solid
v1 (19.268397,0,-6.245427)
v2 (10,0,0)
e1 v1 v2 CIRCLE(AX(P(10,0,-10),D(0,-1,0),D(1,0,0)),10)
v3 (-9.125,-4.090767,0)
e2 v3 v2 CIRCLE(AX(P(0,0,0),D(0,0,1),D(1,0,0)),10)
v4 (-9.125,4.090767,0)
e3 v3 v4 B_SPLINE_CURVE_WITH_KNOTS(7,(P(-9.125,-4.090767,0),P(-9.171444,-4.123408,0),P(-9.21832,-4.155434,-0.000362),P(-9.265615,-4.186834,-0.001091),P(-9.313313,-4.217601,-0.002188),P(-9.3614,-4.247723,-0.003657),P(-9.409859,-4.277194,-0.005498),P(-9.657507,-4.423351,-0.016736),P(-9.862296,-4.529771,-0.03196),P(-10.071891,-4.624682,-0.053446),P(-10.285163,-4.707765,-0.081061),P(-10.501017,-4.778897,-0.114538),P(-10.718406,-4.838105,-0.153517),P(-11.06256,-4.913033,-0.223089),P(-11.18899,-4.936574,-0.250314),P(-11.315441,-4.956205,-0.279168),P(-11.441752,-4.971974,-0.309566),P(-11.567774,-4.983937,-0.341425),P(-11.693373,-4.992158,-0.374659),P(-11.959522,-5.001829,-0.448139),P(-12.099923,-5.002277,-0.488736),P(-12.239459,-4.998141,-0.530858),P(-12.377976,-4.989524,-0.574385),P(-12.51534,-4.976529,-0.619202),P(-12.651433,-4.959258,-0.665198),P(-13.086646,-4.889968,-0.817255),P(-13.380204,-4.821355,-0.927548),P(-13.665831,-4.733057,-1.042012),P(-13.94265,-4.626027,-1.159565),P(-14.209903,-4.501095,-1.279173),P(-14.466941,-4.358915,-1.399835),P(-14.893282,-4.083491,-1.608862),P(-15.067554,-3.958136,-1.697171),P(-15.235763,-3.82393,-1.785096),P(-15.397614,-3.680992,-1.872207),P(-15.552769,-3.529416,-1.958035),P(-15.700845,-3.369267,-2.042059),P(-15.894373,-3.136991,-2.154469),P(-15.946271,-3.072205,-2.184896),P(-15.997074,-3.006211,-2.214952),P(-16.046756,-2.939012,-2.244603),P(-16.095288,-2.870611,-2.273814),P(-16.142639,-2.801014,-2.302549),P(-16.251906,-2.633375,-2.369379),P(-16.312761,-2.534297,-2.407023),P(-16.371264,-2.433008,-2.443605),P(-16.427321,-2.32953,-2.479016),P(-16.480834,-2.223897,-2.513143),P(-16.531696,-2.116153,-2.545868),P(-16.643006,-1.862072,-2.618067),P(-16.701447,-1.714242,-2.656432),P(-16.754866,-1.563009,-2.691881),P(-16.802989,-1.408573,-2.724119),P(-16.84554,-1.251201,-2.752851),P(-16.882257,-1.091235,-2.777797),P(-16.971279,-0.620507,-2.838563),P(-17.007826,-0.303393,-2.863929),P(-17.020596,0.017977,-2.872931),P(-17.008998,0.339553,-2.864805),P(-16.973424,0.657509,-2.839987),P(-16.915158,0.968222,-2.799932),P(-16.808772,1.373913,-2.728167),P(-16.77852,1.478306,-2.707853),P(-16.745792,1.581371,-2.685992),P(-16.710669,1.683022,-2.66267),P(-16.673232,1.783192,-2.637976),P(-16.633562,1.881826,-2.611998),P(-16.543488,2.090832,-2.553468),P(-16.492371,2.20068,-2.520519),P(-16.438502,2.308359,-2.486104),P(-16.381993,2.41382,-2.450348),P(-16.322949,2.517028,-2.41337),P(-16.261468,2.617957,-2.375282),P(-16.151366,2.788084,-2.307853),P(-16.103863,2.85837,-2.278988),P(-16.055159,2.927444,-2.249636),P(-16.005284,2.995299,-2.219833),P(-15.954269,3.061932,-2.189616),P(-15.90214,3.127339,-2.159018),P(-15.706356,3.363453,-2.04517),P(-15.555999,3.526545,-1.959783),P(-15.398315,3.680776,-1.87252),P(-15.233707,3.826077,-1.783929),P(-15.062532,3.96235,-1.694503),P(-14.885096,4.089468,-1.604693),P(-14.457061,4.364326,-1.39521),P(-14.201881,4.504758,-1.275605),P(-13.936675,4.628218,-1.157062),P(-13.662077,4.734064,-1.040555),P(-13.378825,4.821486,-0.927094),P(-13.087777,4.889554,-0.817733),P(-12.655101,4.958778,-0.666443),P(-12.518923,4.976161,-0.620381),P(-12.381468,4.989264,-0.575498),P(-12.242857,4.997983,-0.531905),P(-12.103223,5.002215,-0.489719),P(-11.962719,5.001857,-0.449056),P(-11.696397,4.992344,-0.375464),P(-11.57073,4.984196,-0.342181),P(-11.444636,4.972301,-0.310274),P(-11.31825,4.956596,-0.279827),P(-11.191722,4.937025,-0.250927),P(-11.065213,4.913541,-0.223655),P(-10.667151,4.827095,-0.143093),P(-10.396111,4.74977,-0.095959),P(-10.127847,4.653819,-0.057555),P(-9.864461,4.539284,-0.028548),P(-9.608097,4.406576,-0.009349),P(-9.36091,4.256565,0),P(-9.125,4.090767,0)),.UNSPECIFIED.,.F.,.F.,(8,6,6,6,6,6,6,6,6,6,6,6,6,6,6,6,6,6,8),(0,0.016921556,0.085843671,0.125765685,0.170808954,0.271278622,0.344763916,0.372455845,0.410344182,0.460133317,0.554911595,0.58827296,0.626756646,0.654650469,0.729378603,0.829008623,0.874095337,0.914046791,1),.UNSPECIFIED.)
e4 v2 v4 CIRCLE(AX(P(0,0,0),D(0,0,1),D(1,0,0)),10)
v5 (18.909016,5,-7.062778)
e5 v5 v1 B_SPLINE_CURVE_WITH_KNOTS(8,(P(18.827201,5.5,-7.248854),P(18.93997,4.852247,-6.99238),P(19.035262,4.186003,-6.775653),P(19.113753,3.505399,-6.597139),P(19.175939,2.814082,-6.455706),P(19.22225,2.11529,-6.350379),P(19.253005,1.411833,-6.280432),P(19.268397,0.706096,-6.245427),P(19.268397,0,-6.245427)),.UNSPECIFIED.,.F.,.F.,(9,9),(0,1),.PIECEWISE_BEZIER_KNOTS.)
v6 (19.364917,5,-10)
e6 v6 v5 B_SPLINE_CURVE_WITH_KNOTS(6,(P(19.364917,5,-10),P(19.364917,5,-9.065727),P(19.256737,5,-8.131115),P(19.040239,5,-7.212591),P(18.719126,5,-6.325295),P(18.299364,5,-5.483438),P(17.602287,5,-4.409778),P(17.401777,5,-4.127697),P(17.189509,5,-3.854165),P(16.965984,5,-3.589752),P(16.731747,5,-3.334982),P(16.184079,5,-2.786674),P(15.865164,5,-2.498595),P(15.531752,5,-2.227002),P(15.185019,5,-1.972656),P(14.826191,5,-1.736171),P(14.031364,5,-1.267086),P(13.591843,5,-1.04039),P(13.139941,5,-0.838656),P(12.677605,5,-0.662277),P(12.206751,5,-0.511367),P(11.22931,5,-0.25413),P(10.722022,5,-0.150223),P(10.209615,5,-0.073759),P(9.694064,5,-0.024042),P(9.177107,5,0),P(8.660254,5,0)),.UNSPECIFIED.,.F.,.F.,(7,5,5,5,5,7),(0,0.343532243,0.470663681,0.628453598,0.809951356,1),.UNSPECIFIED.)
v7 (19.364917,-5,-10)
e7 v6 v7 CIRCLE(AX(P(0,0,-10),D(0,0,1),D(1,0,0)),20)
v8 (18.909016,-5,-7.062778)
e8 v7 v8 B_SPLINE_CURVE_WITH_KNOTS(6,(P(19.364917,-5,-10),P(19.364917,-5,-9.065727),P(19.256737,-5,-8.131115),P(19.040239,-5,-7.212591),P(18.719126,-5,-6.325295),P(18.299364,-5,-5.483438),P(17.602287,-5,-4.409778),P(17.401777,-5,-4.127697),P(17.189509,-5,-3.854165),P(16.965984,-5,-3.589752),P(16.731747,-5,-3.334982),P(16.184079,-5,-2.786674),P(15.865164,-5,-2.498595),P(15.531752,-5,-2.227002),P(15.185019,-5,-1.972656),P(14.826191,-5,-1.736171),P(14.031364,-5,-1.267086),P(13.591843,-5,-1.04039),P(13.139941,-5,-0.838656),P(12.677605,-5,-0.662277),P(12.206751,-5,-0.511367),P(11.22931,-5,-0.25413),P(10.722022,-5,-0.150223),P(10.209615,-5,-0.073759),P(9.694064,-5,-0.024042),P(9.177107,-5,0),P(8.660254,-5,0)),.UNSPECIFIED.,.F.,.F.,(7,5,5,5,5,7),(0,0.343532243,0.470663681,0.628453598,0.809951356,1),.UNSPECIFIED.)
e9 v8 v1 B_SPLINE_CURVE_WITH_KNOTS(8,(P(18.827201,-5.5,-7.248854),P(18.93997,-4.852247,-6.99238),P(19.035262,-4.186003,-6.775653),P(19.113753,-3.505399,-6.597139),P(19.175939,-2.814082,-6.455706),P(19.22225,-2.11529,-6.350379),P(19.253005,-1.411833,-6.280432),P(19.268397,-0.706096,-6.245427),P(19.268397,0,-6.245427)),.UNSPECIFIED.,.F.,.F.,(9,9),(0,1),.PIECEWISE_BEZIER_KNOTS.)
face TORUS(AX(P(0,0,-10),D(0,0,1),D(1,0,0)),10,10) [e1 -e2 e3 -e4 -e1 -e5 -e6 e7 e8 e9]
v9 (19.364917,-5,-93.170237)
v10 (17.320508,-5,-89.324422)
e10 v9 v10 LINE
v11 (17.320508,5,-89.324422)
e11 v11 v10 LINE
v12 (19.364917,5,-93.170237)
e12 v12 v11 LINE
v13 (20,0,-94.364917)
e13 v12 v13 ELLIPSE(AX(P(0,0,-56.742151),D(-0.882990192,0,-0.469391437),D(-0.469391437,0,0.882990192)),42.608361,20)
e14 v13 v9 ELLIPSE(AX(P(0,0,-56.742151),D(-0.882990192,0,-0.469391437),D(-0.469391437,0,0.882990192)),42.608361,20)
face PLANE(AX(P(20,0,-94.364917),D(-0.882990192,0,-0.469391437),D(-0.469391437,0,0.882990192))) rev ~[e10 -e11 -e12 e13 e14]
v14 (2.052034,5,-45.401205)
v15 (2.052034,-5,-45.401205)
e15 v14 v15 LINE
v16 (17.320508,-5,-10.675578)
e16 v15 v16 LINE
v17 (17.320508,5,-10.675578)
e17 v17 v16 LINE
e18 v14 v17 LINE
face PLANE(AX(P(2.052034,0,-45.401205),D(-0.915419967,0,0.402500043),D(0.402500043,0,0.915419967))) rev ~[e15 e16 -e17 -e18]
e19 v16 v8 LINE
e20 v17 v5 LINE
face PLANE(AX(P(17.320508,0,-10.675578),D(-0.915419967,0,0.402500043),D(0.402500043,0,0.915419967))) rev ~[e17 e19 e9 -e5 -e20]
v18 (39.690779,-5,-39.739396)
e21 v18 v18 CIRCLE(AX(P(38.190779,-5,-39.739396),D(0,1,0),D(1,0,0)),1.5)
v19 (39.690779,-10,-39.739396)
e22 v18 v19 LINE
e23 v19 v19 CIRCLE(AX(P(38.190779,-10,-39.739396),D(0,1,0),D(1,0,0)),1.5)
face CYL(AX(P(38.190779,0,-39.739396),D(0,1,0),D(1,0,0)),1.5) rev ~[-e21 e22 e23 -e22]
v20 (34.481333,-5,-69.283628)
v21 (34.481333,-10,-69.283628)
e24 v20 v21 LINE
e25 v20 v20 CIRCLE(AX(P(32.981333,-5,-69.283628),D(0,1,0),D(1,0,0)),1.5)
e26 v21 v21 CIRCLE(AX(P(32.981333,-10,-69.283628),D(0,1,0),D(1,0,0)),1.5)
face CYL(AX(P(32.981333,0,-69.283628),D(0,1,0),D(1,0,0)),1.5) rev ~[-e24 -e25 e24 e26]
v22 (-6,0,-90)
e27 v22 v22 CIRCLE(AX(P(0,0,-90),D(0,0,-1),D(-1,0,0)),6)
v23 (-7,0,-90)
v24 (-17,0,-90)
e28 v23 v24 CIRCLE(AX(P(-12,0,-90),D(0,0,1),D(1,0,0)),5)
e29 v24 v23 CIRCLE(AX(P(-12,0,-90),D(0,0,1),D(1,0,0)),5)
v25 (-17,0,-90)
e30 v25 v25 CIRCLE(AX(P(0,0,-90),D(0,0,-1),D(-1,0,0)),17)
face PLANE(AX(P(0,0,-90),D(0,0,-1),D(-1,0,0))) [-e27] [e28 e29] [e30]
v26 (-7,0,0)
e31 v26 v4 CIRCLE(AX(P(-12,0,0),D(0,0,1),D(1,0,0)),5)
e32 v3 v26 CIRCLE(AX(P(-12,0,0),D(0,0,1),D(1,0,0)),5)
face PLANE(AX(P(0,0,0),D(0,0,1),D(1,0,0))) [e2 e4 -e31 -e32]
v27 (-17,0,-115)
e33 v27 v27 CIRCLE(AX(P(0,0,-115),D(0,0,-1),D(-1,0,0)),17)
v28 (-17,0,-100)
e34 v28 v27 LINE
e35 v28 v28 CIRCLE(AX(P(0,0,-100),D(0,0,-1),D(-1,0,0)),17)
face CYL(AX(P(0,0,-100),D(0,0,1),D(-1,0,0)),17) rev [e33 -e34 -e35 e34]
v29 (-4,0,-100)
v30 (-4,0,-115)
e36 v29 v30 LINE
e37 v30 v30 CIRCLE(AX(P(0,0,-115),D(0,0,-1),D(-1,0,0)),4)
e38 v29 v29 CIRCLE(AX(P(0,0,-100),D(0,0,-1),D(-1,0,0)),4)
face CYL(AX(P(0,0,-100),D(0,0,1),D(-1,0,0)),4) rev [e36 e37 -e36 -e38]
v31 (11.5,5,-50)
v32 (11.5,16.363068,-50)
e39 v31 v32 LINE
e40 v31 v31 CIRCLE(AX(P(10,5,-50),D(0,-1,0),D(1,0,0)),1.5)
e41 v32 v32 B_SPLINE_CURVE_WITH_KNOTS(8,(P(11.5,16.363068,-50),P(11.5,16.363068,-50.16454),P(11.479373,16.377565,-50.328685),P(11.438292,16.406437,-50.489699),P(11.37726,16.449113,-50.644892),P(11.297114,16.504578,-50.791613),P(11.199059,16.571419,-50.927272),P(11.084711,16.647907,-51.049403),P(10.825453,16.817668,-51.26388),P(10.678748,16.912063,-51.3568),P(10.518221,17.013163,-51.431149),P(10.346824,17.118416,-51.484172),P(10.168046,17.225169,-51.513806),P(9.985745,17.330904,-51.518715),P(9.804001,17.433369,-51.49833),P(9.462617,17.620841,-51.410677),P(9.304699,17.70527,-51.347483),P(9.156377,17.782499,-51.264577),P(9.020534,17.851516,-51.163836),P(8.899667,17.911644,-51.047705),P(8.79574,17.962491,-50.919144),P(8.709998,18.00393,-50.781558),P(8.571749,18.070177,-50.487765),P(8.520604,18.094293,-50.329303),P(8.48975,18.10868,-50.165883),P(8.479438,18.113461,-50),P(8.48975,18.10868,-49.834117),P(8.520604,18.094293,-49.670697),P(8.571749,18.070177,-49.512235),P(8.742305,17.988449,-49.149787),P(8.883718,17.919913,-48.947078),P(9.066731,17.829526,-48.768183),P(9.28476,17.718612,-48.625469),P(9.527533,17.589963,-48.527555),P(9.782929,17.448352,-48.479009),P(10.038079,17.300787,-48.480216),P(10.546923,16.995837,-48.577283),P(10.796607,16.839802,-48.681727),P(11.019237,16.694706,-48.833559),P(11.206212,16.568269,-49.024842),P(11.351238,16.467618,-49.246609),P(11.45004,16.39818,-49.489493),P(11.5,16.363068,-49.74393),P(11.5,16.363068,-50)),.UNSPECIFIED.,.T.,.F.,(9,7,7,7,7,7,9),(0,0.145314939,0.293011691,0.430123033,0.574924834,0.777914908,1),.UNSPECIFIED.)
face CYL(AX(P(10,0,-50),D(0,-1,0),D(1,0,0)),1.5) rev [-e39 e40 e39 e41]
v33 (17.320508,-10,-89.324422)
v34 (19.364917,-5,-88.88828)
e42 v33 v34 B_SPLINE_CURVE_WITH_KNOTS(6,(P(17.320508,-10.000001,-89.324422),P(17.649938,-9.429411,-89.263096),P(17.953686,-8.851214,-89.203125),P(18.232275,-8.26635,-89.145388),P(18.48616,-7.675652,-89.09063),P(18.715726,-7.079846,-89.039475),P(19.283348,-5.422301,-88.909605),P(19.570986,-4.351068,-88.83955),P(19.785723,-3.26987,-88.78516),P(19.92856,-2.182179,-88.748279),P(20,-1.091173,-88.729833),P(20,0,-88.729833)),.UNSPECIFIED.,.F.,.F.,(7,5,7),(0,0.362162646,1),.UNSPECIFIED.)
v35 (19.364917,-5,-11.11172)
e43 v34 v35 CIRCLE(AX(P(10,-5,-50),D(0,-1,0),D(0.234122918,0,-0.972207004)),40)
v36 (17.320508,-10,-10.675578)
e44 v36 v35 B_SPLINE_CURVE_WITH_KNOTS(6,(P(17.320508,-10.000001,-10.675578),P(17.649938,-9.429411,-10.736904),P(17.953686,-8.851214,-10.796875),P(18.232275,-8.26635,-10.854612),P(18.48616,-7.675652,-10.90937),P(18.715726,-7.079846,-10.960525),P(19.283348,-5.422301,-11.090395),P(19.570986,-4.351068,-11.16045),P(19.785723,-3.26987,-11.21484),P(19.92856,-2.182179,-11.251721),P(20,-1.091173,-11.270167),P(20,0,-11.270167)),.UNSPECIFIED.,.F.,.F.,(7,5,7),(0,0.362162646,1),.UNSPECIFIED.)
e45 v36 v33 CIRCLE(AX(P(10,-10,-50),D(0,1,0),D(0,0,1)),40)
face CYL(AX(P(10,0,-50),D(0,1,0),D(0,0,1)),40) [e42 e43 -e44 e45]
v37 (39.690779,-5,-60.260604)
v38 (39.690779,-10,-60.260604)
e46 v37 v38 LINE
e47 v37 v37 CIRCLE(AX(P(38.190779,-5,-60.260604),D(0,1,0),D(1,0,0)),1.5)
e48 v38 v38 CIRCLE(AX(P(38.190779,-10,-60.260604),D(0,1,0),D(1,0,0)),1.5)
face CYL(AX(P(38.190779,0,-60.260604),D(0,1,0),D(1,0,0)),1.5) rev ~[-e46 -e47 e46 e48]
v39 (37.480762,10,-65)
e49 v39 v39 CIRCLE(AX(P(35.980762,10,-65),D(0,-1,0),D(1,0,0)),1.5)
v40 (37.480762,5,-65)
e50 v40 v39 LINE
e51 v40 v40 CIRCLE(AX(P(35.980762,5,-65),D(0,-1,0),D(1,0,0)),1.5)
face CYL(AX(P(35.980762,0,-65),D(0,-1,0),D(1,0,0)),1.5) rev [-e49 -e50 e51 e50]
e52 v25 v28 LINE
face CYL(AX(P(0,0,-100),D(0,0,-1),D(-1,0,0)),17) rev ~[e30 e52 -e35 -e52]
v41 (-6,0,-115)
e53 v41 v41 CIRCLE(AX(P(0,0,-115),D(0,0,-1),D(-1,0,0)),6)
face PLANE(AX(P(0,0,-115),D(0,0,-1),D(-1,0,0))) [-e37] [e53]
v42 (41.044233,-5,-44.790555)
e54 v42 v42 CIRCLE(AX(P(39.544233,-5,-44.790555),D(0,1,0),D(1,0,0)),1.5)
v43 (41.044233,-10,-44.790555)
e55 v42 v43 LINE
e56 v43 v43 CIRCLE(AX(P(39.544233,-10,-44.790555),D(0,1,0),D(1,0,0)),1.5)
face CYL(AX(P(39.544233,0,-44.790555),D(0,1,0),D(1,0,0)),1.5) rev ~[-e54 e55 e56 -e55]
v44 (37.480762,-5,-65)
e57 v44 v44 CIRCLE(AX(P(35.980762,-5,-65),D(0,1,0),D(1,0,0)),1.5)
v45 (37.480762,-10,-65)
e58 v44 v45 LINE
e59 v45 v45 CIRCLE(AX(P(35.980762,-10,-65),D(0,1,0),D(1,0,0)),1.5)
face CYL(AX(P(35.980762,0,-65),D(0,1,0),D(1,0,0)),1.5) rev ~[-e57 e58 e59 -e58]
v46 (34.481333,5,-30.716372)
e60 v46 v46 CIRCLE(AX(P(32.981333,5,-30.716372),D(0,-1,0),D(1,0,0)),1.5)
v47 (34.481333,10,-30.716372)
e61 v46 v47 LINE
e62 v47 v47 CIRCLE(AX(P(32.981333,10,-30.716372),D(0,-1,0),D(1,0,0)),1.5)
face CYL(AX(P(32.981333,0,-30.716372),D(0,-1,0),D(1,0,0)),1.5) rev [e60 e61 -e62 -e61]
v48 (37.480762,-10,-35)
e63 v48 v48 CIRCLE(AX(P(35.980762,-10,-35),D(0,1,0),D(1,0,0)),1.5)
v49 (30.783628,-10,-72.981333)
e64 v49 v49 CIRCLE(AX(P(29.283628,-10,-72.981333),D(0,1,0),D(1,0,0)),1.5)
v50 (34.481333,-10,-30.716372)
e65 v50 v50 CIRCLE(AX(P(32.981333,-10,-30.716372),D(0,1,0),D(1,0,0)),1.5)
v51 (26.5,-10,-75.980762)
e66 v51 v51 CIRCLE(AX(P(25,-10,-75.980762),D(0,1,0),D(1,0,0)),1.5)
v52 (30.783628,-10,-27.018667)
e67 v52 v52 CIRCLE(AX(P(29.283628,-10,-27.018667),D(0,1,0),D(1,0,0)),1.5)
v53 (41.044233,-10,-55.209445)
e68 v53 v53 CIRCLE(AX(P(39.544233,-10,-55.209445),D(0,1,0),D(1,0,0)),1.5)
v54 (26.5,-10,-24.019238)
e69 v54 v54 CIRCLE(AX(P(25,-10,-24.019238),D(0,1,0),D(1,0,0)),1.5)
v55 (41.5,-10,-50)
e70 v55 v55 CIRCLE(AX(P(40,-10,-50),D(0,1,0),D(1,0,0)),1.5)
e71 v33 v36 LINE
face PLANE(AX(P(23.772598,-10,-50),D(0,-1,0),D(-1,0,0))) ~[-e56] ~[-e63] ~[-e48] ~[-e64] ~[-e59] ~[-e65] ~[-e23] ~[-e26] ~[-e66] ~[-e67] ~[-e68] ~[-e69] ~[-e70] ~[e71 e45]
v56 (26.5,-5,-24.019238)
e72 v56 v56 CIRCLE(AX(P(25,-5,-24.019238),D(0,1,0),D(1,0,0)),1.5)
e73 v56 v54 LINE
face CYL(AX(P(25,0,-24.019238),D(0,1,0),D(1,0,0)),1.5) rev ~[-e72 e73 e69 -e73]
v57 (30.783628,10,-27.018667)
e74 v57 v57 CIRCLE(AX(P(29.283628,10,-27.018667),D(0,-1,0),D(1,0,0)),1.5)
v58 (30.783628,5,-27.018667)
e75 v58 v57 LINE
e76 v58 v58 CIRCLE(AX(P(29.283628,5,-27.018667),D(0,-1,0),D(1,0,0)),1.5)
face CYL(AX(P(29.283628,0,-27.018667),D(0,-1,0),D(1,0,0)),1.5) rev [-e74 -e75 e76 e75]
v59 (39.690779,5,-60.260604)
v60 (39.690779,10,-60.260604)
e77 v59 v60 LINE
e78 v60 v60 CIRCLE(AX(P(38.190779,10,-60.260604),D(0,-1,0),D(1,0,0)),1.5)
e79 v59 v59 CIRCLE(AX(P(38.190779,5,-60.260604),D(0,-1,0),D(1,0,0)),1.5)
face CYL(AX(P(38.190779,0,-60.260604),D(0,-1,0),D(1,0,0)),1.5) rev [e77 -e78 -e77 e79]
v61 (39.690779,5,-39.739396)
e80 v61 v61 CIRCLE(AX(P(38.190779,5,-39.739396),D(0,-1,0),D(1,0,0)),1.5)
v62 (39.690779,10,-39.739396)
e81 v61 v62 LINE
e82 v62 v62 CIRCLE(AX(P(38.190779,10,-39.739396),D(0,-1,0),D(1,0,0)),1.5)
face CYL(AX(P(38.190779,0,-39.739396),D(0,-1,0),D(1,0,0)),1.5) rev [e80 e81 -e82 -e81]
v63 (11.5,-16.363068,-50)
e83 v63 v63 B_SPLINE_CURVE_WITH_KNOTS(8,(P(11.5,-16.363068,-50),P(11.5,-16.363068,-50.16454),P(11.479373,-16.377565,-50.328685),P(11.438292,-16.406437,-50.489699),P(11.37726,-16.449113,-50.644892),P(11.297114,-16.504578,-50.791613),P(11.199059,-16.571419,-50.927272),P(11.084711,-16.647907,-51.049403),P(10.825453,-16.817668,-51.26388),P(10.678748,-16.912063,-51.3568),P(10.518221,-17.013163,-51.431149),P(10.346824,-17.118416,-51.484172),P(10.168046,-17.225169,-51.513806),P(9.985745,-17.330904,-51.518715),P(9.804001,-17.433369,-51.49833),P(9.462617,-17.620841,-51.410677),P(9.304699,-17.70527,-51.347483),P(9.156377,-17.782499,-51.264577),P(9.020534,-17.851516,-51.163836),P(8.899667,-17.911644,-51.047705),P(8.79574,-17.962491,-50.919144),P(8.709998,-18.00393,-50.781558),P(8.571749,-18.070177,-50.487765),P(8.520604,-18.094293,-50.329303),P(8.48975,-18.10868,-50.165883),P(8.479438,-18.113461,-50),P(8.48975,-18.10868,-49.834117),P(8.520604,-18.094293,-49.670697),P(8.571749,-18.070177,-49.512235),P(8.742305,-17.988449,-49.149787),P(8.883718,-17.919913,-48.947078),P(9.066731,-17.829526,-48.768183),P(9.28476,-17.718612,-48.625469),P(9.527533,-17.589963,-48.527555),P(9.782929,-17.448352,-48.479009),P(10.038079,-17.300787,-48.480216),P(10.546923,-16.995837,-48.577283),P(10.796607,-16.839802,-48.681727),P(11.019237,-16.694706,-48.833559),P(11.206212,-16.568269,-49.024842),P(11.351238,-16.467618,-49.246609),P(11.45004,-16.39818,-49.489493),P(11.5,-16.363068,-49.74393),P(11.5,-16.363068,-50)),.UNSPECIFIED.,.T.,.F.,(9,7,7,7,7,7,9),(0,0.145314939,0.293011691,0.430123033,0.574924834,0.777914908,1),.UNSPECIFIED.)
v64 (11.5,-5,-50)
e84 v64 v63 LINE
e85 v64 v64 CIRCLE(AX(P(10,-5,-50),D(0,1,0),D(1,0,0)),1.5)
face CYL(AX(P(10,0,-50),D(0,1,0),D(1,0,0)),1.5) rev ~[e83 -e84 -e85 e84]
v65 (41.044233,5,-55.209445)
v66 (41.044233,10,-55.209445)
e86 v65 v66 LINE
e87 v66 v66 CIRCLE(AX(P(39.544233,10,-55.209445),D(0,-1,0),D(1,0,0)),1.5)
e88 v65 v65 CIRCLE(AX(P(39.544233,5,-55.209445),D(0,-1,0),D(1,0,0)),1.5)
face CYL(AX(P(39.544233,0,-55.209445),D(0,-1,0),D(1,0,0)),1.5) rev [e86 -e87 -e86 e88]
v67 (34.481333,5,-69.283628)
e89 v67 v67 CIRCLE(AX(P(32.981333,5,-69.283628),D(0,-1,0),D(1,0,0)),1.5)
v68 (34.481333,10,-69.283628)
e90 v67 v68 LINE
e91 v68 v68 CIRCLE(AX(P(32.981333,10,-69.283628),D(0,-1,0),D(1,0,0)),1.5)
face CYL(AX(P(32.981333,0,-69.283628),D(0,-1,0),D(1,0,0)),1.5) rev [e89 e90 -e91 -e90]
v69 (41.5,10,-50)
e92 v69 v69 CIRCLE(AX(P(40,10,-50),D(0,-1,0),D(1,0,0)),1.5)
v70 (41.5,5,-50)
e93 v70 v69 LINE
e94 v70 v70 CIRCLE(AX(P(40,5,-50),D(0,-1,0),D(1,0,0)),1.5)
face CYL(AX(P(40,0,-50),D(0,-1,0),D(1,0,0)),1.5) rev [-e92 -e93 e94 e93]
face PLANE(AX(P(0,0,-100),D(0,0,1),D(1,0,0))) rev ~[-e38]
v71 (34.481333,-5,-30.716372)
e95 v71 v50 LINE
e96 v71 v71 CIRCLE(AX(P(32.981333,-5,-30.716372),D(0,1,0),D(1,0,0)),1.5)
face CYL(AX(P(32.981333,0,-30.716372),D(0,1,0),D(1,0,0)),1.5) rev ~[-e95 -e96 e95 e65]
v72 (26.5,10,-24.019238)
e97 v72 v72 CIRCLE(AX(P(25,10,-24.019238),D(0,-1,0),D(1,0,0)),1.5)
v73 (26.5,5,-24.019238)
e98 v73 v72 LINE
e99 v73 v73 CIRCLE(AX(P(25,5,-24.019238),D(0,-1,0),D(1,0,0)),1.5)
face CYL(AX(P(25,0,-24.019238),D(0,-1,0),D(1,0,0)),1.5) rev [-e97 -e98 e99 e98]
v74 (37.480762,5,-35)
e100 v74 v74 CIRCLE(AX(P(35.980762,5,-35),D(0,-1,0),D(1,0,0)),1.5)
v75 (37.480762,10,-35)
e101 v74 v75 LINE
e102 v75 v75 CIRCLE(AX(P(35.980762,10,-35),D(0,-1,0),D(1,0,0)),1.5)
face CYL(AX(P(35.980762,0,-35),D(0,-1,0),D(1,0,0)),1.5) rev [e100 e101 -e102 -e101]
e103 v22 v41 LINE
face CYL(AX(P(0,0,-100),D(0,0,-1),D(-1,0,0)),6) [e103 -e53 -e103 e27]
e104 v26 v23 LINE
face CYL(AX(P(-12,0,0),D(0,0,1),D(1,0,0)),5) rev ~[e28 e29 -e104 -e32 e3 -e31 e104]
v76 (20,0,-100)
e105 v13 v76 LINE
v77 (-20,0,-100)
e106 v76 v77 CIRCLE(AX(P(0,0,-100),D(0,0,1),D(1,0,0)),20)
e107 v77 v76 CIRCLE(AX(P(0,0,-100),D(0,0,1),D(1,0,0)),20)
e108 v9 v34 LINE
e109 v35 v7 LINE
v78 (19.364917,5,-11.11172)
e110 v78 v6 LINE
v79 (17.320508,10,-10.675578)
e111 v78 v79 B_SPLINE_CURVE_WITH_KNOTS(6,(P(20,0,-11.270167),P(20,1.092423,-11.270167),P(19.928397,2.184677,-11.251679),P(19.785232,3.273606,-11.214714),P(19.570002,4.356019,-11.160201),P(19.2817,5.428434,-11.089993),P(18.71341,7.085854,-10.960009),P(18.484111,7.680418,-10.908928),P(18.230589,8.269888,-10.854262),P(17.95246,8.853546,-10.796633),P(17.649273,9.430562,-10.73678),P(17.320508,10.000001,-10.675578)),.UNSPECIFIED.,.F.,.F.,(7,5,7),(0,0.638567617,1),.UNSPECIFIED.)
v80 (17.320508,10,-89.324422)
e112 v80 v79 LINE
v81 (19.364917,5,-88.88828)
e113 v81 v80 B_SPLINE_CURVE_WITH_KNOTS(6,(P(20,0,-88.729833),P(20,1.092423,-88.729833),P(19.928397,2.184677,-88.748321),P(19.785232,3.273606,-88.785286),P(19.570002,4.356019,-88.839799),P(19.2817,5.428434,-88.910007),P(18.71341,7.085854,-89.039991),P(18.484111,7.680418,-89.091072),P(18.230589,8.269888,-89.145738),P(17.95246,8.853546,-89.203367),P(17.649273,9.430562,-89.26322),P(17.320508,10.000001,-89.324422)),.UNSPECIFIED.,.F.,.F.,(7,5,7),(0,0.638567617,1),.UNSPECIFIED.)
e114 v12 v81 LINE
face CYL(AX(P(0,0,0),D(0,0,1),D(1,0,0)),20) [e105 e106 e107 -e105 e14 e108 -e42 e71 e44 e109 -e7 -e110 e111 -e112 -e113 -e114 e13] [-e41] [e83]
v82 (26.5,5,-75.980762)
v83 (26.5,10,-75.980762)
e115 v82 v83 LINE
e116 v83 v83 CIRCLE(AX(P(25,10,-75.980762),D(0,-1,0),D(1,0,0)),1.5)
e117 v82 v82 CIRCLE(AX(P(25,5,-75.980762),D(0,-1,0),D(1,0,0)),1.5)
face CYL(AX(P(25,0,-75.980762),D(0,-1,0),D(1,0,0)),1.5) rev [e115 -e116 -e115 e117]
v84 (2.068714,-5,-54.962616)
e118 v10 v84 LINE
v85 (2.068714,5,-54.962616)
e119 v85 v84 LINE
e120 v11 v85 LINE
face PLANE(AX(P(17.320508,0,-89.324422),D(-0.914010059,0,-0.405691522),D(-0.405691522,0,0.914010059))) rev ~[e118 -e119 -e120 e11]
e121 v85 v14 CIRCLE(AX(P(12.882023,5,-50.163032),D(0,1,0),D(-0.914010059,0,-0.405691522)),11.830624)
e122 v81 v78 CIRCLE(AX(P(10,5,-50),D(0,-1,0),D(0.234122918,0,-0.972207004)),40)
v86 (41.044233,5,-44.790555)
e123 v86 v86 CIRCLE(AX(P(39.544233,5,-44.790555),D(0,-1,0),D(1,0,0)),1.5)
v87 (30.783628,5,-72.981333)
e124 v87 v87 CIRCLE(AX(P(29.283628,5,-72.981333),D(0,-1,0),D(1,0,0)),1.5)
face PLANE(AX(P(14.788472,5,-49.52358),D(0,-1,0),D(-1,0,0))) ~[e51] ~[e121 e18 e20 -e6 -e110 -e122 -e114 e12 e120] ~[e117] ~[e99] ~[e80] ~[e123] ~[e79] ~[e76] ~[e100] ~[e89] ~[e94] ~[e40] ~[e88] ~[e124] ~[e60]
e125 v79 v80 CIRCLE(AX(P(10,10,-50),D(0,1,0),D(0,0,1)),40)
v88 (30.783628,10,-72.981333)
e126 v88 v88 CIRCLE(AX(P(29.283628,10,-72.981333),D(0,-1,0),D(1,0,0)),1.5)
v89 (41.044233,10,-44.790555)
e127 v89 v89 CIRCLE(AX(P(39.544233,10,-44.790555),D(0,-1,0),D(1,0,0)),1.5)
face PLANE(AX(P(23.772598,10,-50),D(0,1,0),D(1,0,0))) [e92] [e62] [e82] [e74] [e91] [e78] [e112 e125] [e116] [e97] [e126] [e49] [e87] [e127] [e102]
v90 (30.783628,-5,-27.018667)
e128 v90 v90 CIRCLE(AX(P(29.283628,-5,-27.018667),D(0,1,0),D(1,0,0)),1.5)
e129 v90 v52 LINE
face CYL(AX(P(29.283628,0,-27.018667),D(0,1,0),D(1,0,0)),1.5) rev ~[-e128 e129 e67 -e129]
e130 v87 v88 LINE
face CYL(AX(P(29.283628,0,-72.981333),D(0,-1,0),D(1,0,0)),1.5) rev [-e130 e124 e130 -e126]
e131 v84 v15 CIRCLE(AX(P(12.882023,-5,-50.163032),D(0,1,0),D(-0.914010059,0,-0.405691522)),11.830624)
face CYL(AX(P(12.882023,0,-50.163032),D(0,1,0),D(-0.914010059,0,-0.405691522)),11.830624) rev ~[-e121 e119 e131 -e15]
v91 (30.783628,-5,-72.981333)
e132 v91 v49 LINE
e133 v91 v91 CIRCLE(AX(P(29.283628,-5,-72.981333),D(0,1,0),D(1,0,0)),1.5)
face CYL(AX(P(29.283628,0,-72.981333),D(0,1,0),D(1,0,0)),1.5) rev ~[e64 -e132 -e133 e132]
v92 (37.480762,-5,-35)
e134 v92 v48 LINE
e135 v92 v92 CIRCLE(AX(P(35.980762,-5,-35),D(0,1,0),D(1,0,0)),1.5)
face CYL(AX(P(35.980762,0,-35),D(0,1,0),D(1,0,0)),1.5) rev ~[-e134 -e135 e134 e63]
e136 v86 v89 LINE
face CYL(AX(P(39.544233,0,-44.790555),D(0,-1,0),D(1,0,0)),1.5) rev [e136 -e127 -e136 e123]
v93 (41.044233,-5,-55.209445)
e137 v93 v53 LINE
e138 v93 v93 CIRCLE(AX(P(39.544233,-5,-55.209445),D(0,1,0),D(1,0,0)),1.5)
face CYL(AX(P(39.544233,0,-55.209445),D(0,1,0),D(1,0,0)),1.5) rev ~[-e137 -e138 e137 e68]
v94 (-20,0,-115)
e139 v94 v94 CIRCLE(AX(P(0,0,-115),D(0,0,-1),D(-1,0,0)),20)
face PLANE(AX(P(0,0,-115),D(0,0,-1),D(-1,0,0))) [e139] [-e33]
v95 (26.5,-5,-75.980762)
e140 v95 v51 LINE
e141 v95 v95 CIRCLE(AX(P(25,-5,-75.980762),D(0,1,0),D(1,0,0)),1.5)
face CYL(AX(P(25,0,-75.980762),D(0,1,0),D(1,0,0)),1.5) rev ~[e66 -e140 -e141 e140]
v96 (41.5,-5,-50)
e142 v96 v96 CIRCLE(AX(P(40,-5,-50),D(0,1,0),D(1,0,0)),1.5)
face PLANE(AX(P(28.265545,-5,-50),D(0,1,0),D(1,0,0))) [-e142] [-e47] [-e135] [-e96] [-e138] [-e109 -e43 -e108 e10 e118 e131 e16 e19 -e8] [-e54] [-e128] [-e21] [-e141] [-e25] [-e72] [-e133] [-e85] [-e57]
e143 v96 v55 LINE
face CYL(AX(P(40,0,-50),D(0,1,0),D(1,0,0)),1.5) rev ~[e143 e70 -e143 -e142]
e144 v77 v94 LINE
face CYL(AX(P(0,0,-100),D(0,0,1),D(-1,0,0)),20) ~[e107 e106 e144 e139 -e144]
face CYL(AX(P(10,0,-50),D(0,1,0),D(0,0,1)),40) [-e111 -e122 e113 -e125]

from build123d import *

# Parameters (mm, degrees)
CROQUIS4_R               = 20
SALIENTE_EXTRUIR2_DEPTH  = 100
REDONDEO1_R              = 10
SALIENTE_EXTRUIR6_DEPTH  = 10
CROQUIS6_R               = 6
CROQUIS6_R_2             = 4
SALIENTE_EXTRUIR4_DEPTH  = 15
CROQUIS15_R              = 5
CORTAR_EXTRUIR5_DEPTH    = 91
CORTAR_EXTRUIR2_DEPTH    = 5
CORTAR_EXTRUIR3_DEPTH    = 5
CROQUIS12_R              = 1.5
CORTAR_EXTRUIR4_DEPTH    = 48
CORTAR_EXTRUIR1_START    = -10
CROQUIS6_7_R             = 17
CROQUIS6_7_R_2           = 6
CORTAR_EXTRUIR1_DEPTH    = 10
CROQUIS6_8_R             = 20
CROQUIS6_8_R_2           = 17
SALIENTE_EXTRUIR11_DEPTH = 15


with BuildPart() as part:
    # Croquis4 → Saliente-Extruir2 (new body)
    with BuildSketch(Plane.XY):
        Circle(CROQUIS4_R)
    extrude(amount=-SALIENTE_EXTRUIR2_DEPTH)

    # Redondeo1
    redondeo1_edges = [part.edges().sort_by_distance(p)[0] for p in [
        (-20, 0, 0),
    ]]
    fillet(redondeo1_edges, radius=REDONDEO1_R)

    # Croquis8 → Saliente-Extruir6 (add)
    with BuildSketch(Plane(origin=(0, 0, 0), x_dir=(1, 0, 0), z_dir=(0, 1, 0))):
        with BuildLine():
            Line((10, 48.5), (10, 10))
            ThreePointArc((10, 10), (50, 50), (10, 90))
            Line((10, 90), (10, 51.5))
            ThreePointArc((10, 51.5), (11.5, 50), (10, 48.5))
        make_face()
    saliente_extruir6 = extrude(amount=SALIENTE_EXTRUIR6_DEPTH)

    # Croquis6 → Saliente-Extruir4 (add)
    with BuildSketch(Plane(origin=(0, 0, -100), x_dir=(-1, 0, 0), z_dir=(0, 0, -1))):
        Circle(CROQUIS6_R)
        Circle(CROQUIS6_R_2, mode=Mode.SUBTRACT)
    extrude(amount=SALIENTE_EXTRUIR4_DEPTH)

    # Simetría1: Saliente-Extruir6 across plane
    add(saliente_extruir6.mirror(Plane.ZX))

    # Croquis15 → Cortar-Extruir5 (cut)
    with BuildSketch(Plane.XY):
        with Locations((-12, 0)):
            Circle(CROQUIS15_R)
    extrude(amount=-CORTAR_EXTRUIR5_DEPTH, mode=Mode.SUBTRACT)

    # Croquis10 → Cortar-Extruir2 (cut)
    with BuildSketch(Plane(origin=(0, 0, 0), x_dir=(1, 0, 0), z_dir=(0, 1, 0))):
        with BuildLine():
            Line((17.320508076, 89.324421948), (17.320508076, 10.675578052))
            ThreePointArc((17.320508076, 10.675578052), (50, 50), (17.320508076, 89.324421948))
        make_face()
    cortar_extruir2 = extrude(amount=-CORTAR_EXTRUIR2_DEPTH, mode=Mode.SUBTRACT)

    # Simetría2: Cortar-Extruir2 across plane
    add(cortar_extruir2.mirror(Plane.ZX), mode=Mode.SUBTRACT)

    # Croquis11 → Cortar-Extruir3 (cut)
    with BuildSketch(Plane(origin=(0, 0, 0), x_dir=(1, 0, 0), z_dir=(0, 1, 0))):
        with BuildLine():
            Line((17.320508076, 89.324421948), (2.068713666, 54.962615638))
            ThreePointArc((2.068713666, 54.962615638), (1.051417021, 50.183670554), (2.052033583, 45.401205178))
            Line((2.052033583, 45.401205178), (17.320508076, 10.675578052))
            Line((17.320508076, 10.675578052), (20, 4.581515578))
            Line((20, 4.581515578), (20, 94.364916731))
            Line((20, 94.364916731), (17.320508076, 89.324421948))
        make_face()
    cortar_extruir3 = extrude(amount=-CORTAR_EXTRUIR3_DEPTH, mode=Mode.SUBTRACT)

    # Simetría3: Cortar-Extruir3 across plane
    add(cortar_extruir3.mirror(Plane.ZX), mode=Mode.SUBTRACT)

    # Croquis12 → Cortar-Extruir4 (cut)
    with BuildSketch(Plane(origin=(0, 0, 0), x_dir=(1, 0, 0), z_dir=(0, 1, 0))):
        with Locations((10, 50)):
            Circle(CROQUIS12_R)
        with Locations((40, 50)):
            Circle(CROQUIS12_R)
        with Locations((39.54423259, 55.20944533)):
            Circle(CROQUIS12_R)
        with Locations((38.190778624, 60.2606043)):
            Circle(CROQUIS12_R)
        with Locations((35.980762114, 65)):
            Circle(CROQUIS12_R)
        with Locations((32.981333294, 69.283628291)):
            Circle(CROQUIS12_R)
        with Locations((29.283628291, 72.981333294)):
            Circle(CROQUIS12_R)
        with Locations((25, 75.980762114)):
            Circle(CROQUIS12_R)
        with Locations((39.54423259, 44.79055467)):
            Circle(CROQUIS12_R)
        with Locations((38.190778624, 39.7393957)):
            Circle(CROQUIS12_R)
        with Locations((35.980762114, 35)):
            Circle(CROQUIS12_R)
        with Locations((32.981333294, 30.716371709)):
            Circle(CROQUIS12_R)
        with Locations((29.283628291, 27.018666706)):
            Circle(CROQUIS12_R)
        with Locations((25, 24.019237886)):
            Circle(CROQUIS12_R)
    cortar_extruir4 = extrude(amount=-CORTAR_EXTRUIR4_DEPTH, mode=Mode.SUBTRACT)

    # Croquis6<7> → Cortar-Extruir1 (cut)
    with BuildSketch(Plane(origin=(0, 0, -100), x_dir=(-1, 0, 0), z_dir=(0, 0, -1)).offset(CORTAR_EXTRUIR1_START)):
        Circle(CROQUIS6_7_R)
        Circle(CROQUIS6_7_R_2, mode=Mode.SUBTRACT)
    extrude(amount=CORTAR_EXTRUIR1_DEPTH, mode=Mode.SUBTRACT)

    # Simetría4: Cortar-Extruir4 across plane
    add(cortar_extruir4.mirror(Plane.ZX), mode=Mode.SUBTRACT)

    # Croquis6<8> → Saliente-Extruir11 (add)
    with BuildSketch(Plane(origin=(0, 0, -100), x_dir=(-1, 0, 0), z_dir=(0, 0, -1))):
        Circle(CROQUIS6_8_R)
        Circle(CROQUIS6_8_R_2, mode=Mode.SUBTRACT)
    extrude(amount=SALIENTE_EXTRUIR11_DEPTH)


solid = part.part
